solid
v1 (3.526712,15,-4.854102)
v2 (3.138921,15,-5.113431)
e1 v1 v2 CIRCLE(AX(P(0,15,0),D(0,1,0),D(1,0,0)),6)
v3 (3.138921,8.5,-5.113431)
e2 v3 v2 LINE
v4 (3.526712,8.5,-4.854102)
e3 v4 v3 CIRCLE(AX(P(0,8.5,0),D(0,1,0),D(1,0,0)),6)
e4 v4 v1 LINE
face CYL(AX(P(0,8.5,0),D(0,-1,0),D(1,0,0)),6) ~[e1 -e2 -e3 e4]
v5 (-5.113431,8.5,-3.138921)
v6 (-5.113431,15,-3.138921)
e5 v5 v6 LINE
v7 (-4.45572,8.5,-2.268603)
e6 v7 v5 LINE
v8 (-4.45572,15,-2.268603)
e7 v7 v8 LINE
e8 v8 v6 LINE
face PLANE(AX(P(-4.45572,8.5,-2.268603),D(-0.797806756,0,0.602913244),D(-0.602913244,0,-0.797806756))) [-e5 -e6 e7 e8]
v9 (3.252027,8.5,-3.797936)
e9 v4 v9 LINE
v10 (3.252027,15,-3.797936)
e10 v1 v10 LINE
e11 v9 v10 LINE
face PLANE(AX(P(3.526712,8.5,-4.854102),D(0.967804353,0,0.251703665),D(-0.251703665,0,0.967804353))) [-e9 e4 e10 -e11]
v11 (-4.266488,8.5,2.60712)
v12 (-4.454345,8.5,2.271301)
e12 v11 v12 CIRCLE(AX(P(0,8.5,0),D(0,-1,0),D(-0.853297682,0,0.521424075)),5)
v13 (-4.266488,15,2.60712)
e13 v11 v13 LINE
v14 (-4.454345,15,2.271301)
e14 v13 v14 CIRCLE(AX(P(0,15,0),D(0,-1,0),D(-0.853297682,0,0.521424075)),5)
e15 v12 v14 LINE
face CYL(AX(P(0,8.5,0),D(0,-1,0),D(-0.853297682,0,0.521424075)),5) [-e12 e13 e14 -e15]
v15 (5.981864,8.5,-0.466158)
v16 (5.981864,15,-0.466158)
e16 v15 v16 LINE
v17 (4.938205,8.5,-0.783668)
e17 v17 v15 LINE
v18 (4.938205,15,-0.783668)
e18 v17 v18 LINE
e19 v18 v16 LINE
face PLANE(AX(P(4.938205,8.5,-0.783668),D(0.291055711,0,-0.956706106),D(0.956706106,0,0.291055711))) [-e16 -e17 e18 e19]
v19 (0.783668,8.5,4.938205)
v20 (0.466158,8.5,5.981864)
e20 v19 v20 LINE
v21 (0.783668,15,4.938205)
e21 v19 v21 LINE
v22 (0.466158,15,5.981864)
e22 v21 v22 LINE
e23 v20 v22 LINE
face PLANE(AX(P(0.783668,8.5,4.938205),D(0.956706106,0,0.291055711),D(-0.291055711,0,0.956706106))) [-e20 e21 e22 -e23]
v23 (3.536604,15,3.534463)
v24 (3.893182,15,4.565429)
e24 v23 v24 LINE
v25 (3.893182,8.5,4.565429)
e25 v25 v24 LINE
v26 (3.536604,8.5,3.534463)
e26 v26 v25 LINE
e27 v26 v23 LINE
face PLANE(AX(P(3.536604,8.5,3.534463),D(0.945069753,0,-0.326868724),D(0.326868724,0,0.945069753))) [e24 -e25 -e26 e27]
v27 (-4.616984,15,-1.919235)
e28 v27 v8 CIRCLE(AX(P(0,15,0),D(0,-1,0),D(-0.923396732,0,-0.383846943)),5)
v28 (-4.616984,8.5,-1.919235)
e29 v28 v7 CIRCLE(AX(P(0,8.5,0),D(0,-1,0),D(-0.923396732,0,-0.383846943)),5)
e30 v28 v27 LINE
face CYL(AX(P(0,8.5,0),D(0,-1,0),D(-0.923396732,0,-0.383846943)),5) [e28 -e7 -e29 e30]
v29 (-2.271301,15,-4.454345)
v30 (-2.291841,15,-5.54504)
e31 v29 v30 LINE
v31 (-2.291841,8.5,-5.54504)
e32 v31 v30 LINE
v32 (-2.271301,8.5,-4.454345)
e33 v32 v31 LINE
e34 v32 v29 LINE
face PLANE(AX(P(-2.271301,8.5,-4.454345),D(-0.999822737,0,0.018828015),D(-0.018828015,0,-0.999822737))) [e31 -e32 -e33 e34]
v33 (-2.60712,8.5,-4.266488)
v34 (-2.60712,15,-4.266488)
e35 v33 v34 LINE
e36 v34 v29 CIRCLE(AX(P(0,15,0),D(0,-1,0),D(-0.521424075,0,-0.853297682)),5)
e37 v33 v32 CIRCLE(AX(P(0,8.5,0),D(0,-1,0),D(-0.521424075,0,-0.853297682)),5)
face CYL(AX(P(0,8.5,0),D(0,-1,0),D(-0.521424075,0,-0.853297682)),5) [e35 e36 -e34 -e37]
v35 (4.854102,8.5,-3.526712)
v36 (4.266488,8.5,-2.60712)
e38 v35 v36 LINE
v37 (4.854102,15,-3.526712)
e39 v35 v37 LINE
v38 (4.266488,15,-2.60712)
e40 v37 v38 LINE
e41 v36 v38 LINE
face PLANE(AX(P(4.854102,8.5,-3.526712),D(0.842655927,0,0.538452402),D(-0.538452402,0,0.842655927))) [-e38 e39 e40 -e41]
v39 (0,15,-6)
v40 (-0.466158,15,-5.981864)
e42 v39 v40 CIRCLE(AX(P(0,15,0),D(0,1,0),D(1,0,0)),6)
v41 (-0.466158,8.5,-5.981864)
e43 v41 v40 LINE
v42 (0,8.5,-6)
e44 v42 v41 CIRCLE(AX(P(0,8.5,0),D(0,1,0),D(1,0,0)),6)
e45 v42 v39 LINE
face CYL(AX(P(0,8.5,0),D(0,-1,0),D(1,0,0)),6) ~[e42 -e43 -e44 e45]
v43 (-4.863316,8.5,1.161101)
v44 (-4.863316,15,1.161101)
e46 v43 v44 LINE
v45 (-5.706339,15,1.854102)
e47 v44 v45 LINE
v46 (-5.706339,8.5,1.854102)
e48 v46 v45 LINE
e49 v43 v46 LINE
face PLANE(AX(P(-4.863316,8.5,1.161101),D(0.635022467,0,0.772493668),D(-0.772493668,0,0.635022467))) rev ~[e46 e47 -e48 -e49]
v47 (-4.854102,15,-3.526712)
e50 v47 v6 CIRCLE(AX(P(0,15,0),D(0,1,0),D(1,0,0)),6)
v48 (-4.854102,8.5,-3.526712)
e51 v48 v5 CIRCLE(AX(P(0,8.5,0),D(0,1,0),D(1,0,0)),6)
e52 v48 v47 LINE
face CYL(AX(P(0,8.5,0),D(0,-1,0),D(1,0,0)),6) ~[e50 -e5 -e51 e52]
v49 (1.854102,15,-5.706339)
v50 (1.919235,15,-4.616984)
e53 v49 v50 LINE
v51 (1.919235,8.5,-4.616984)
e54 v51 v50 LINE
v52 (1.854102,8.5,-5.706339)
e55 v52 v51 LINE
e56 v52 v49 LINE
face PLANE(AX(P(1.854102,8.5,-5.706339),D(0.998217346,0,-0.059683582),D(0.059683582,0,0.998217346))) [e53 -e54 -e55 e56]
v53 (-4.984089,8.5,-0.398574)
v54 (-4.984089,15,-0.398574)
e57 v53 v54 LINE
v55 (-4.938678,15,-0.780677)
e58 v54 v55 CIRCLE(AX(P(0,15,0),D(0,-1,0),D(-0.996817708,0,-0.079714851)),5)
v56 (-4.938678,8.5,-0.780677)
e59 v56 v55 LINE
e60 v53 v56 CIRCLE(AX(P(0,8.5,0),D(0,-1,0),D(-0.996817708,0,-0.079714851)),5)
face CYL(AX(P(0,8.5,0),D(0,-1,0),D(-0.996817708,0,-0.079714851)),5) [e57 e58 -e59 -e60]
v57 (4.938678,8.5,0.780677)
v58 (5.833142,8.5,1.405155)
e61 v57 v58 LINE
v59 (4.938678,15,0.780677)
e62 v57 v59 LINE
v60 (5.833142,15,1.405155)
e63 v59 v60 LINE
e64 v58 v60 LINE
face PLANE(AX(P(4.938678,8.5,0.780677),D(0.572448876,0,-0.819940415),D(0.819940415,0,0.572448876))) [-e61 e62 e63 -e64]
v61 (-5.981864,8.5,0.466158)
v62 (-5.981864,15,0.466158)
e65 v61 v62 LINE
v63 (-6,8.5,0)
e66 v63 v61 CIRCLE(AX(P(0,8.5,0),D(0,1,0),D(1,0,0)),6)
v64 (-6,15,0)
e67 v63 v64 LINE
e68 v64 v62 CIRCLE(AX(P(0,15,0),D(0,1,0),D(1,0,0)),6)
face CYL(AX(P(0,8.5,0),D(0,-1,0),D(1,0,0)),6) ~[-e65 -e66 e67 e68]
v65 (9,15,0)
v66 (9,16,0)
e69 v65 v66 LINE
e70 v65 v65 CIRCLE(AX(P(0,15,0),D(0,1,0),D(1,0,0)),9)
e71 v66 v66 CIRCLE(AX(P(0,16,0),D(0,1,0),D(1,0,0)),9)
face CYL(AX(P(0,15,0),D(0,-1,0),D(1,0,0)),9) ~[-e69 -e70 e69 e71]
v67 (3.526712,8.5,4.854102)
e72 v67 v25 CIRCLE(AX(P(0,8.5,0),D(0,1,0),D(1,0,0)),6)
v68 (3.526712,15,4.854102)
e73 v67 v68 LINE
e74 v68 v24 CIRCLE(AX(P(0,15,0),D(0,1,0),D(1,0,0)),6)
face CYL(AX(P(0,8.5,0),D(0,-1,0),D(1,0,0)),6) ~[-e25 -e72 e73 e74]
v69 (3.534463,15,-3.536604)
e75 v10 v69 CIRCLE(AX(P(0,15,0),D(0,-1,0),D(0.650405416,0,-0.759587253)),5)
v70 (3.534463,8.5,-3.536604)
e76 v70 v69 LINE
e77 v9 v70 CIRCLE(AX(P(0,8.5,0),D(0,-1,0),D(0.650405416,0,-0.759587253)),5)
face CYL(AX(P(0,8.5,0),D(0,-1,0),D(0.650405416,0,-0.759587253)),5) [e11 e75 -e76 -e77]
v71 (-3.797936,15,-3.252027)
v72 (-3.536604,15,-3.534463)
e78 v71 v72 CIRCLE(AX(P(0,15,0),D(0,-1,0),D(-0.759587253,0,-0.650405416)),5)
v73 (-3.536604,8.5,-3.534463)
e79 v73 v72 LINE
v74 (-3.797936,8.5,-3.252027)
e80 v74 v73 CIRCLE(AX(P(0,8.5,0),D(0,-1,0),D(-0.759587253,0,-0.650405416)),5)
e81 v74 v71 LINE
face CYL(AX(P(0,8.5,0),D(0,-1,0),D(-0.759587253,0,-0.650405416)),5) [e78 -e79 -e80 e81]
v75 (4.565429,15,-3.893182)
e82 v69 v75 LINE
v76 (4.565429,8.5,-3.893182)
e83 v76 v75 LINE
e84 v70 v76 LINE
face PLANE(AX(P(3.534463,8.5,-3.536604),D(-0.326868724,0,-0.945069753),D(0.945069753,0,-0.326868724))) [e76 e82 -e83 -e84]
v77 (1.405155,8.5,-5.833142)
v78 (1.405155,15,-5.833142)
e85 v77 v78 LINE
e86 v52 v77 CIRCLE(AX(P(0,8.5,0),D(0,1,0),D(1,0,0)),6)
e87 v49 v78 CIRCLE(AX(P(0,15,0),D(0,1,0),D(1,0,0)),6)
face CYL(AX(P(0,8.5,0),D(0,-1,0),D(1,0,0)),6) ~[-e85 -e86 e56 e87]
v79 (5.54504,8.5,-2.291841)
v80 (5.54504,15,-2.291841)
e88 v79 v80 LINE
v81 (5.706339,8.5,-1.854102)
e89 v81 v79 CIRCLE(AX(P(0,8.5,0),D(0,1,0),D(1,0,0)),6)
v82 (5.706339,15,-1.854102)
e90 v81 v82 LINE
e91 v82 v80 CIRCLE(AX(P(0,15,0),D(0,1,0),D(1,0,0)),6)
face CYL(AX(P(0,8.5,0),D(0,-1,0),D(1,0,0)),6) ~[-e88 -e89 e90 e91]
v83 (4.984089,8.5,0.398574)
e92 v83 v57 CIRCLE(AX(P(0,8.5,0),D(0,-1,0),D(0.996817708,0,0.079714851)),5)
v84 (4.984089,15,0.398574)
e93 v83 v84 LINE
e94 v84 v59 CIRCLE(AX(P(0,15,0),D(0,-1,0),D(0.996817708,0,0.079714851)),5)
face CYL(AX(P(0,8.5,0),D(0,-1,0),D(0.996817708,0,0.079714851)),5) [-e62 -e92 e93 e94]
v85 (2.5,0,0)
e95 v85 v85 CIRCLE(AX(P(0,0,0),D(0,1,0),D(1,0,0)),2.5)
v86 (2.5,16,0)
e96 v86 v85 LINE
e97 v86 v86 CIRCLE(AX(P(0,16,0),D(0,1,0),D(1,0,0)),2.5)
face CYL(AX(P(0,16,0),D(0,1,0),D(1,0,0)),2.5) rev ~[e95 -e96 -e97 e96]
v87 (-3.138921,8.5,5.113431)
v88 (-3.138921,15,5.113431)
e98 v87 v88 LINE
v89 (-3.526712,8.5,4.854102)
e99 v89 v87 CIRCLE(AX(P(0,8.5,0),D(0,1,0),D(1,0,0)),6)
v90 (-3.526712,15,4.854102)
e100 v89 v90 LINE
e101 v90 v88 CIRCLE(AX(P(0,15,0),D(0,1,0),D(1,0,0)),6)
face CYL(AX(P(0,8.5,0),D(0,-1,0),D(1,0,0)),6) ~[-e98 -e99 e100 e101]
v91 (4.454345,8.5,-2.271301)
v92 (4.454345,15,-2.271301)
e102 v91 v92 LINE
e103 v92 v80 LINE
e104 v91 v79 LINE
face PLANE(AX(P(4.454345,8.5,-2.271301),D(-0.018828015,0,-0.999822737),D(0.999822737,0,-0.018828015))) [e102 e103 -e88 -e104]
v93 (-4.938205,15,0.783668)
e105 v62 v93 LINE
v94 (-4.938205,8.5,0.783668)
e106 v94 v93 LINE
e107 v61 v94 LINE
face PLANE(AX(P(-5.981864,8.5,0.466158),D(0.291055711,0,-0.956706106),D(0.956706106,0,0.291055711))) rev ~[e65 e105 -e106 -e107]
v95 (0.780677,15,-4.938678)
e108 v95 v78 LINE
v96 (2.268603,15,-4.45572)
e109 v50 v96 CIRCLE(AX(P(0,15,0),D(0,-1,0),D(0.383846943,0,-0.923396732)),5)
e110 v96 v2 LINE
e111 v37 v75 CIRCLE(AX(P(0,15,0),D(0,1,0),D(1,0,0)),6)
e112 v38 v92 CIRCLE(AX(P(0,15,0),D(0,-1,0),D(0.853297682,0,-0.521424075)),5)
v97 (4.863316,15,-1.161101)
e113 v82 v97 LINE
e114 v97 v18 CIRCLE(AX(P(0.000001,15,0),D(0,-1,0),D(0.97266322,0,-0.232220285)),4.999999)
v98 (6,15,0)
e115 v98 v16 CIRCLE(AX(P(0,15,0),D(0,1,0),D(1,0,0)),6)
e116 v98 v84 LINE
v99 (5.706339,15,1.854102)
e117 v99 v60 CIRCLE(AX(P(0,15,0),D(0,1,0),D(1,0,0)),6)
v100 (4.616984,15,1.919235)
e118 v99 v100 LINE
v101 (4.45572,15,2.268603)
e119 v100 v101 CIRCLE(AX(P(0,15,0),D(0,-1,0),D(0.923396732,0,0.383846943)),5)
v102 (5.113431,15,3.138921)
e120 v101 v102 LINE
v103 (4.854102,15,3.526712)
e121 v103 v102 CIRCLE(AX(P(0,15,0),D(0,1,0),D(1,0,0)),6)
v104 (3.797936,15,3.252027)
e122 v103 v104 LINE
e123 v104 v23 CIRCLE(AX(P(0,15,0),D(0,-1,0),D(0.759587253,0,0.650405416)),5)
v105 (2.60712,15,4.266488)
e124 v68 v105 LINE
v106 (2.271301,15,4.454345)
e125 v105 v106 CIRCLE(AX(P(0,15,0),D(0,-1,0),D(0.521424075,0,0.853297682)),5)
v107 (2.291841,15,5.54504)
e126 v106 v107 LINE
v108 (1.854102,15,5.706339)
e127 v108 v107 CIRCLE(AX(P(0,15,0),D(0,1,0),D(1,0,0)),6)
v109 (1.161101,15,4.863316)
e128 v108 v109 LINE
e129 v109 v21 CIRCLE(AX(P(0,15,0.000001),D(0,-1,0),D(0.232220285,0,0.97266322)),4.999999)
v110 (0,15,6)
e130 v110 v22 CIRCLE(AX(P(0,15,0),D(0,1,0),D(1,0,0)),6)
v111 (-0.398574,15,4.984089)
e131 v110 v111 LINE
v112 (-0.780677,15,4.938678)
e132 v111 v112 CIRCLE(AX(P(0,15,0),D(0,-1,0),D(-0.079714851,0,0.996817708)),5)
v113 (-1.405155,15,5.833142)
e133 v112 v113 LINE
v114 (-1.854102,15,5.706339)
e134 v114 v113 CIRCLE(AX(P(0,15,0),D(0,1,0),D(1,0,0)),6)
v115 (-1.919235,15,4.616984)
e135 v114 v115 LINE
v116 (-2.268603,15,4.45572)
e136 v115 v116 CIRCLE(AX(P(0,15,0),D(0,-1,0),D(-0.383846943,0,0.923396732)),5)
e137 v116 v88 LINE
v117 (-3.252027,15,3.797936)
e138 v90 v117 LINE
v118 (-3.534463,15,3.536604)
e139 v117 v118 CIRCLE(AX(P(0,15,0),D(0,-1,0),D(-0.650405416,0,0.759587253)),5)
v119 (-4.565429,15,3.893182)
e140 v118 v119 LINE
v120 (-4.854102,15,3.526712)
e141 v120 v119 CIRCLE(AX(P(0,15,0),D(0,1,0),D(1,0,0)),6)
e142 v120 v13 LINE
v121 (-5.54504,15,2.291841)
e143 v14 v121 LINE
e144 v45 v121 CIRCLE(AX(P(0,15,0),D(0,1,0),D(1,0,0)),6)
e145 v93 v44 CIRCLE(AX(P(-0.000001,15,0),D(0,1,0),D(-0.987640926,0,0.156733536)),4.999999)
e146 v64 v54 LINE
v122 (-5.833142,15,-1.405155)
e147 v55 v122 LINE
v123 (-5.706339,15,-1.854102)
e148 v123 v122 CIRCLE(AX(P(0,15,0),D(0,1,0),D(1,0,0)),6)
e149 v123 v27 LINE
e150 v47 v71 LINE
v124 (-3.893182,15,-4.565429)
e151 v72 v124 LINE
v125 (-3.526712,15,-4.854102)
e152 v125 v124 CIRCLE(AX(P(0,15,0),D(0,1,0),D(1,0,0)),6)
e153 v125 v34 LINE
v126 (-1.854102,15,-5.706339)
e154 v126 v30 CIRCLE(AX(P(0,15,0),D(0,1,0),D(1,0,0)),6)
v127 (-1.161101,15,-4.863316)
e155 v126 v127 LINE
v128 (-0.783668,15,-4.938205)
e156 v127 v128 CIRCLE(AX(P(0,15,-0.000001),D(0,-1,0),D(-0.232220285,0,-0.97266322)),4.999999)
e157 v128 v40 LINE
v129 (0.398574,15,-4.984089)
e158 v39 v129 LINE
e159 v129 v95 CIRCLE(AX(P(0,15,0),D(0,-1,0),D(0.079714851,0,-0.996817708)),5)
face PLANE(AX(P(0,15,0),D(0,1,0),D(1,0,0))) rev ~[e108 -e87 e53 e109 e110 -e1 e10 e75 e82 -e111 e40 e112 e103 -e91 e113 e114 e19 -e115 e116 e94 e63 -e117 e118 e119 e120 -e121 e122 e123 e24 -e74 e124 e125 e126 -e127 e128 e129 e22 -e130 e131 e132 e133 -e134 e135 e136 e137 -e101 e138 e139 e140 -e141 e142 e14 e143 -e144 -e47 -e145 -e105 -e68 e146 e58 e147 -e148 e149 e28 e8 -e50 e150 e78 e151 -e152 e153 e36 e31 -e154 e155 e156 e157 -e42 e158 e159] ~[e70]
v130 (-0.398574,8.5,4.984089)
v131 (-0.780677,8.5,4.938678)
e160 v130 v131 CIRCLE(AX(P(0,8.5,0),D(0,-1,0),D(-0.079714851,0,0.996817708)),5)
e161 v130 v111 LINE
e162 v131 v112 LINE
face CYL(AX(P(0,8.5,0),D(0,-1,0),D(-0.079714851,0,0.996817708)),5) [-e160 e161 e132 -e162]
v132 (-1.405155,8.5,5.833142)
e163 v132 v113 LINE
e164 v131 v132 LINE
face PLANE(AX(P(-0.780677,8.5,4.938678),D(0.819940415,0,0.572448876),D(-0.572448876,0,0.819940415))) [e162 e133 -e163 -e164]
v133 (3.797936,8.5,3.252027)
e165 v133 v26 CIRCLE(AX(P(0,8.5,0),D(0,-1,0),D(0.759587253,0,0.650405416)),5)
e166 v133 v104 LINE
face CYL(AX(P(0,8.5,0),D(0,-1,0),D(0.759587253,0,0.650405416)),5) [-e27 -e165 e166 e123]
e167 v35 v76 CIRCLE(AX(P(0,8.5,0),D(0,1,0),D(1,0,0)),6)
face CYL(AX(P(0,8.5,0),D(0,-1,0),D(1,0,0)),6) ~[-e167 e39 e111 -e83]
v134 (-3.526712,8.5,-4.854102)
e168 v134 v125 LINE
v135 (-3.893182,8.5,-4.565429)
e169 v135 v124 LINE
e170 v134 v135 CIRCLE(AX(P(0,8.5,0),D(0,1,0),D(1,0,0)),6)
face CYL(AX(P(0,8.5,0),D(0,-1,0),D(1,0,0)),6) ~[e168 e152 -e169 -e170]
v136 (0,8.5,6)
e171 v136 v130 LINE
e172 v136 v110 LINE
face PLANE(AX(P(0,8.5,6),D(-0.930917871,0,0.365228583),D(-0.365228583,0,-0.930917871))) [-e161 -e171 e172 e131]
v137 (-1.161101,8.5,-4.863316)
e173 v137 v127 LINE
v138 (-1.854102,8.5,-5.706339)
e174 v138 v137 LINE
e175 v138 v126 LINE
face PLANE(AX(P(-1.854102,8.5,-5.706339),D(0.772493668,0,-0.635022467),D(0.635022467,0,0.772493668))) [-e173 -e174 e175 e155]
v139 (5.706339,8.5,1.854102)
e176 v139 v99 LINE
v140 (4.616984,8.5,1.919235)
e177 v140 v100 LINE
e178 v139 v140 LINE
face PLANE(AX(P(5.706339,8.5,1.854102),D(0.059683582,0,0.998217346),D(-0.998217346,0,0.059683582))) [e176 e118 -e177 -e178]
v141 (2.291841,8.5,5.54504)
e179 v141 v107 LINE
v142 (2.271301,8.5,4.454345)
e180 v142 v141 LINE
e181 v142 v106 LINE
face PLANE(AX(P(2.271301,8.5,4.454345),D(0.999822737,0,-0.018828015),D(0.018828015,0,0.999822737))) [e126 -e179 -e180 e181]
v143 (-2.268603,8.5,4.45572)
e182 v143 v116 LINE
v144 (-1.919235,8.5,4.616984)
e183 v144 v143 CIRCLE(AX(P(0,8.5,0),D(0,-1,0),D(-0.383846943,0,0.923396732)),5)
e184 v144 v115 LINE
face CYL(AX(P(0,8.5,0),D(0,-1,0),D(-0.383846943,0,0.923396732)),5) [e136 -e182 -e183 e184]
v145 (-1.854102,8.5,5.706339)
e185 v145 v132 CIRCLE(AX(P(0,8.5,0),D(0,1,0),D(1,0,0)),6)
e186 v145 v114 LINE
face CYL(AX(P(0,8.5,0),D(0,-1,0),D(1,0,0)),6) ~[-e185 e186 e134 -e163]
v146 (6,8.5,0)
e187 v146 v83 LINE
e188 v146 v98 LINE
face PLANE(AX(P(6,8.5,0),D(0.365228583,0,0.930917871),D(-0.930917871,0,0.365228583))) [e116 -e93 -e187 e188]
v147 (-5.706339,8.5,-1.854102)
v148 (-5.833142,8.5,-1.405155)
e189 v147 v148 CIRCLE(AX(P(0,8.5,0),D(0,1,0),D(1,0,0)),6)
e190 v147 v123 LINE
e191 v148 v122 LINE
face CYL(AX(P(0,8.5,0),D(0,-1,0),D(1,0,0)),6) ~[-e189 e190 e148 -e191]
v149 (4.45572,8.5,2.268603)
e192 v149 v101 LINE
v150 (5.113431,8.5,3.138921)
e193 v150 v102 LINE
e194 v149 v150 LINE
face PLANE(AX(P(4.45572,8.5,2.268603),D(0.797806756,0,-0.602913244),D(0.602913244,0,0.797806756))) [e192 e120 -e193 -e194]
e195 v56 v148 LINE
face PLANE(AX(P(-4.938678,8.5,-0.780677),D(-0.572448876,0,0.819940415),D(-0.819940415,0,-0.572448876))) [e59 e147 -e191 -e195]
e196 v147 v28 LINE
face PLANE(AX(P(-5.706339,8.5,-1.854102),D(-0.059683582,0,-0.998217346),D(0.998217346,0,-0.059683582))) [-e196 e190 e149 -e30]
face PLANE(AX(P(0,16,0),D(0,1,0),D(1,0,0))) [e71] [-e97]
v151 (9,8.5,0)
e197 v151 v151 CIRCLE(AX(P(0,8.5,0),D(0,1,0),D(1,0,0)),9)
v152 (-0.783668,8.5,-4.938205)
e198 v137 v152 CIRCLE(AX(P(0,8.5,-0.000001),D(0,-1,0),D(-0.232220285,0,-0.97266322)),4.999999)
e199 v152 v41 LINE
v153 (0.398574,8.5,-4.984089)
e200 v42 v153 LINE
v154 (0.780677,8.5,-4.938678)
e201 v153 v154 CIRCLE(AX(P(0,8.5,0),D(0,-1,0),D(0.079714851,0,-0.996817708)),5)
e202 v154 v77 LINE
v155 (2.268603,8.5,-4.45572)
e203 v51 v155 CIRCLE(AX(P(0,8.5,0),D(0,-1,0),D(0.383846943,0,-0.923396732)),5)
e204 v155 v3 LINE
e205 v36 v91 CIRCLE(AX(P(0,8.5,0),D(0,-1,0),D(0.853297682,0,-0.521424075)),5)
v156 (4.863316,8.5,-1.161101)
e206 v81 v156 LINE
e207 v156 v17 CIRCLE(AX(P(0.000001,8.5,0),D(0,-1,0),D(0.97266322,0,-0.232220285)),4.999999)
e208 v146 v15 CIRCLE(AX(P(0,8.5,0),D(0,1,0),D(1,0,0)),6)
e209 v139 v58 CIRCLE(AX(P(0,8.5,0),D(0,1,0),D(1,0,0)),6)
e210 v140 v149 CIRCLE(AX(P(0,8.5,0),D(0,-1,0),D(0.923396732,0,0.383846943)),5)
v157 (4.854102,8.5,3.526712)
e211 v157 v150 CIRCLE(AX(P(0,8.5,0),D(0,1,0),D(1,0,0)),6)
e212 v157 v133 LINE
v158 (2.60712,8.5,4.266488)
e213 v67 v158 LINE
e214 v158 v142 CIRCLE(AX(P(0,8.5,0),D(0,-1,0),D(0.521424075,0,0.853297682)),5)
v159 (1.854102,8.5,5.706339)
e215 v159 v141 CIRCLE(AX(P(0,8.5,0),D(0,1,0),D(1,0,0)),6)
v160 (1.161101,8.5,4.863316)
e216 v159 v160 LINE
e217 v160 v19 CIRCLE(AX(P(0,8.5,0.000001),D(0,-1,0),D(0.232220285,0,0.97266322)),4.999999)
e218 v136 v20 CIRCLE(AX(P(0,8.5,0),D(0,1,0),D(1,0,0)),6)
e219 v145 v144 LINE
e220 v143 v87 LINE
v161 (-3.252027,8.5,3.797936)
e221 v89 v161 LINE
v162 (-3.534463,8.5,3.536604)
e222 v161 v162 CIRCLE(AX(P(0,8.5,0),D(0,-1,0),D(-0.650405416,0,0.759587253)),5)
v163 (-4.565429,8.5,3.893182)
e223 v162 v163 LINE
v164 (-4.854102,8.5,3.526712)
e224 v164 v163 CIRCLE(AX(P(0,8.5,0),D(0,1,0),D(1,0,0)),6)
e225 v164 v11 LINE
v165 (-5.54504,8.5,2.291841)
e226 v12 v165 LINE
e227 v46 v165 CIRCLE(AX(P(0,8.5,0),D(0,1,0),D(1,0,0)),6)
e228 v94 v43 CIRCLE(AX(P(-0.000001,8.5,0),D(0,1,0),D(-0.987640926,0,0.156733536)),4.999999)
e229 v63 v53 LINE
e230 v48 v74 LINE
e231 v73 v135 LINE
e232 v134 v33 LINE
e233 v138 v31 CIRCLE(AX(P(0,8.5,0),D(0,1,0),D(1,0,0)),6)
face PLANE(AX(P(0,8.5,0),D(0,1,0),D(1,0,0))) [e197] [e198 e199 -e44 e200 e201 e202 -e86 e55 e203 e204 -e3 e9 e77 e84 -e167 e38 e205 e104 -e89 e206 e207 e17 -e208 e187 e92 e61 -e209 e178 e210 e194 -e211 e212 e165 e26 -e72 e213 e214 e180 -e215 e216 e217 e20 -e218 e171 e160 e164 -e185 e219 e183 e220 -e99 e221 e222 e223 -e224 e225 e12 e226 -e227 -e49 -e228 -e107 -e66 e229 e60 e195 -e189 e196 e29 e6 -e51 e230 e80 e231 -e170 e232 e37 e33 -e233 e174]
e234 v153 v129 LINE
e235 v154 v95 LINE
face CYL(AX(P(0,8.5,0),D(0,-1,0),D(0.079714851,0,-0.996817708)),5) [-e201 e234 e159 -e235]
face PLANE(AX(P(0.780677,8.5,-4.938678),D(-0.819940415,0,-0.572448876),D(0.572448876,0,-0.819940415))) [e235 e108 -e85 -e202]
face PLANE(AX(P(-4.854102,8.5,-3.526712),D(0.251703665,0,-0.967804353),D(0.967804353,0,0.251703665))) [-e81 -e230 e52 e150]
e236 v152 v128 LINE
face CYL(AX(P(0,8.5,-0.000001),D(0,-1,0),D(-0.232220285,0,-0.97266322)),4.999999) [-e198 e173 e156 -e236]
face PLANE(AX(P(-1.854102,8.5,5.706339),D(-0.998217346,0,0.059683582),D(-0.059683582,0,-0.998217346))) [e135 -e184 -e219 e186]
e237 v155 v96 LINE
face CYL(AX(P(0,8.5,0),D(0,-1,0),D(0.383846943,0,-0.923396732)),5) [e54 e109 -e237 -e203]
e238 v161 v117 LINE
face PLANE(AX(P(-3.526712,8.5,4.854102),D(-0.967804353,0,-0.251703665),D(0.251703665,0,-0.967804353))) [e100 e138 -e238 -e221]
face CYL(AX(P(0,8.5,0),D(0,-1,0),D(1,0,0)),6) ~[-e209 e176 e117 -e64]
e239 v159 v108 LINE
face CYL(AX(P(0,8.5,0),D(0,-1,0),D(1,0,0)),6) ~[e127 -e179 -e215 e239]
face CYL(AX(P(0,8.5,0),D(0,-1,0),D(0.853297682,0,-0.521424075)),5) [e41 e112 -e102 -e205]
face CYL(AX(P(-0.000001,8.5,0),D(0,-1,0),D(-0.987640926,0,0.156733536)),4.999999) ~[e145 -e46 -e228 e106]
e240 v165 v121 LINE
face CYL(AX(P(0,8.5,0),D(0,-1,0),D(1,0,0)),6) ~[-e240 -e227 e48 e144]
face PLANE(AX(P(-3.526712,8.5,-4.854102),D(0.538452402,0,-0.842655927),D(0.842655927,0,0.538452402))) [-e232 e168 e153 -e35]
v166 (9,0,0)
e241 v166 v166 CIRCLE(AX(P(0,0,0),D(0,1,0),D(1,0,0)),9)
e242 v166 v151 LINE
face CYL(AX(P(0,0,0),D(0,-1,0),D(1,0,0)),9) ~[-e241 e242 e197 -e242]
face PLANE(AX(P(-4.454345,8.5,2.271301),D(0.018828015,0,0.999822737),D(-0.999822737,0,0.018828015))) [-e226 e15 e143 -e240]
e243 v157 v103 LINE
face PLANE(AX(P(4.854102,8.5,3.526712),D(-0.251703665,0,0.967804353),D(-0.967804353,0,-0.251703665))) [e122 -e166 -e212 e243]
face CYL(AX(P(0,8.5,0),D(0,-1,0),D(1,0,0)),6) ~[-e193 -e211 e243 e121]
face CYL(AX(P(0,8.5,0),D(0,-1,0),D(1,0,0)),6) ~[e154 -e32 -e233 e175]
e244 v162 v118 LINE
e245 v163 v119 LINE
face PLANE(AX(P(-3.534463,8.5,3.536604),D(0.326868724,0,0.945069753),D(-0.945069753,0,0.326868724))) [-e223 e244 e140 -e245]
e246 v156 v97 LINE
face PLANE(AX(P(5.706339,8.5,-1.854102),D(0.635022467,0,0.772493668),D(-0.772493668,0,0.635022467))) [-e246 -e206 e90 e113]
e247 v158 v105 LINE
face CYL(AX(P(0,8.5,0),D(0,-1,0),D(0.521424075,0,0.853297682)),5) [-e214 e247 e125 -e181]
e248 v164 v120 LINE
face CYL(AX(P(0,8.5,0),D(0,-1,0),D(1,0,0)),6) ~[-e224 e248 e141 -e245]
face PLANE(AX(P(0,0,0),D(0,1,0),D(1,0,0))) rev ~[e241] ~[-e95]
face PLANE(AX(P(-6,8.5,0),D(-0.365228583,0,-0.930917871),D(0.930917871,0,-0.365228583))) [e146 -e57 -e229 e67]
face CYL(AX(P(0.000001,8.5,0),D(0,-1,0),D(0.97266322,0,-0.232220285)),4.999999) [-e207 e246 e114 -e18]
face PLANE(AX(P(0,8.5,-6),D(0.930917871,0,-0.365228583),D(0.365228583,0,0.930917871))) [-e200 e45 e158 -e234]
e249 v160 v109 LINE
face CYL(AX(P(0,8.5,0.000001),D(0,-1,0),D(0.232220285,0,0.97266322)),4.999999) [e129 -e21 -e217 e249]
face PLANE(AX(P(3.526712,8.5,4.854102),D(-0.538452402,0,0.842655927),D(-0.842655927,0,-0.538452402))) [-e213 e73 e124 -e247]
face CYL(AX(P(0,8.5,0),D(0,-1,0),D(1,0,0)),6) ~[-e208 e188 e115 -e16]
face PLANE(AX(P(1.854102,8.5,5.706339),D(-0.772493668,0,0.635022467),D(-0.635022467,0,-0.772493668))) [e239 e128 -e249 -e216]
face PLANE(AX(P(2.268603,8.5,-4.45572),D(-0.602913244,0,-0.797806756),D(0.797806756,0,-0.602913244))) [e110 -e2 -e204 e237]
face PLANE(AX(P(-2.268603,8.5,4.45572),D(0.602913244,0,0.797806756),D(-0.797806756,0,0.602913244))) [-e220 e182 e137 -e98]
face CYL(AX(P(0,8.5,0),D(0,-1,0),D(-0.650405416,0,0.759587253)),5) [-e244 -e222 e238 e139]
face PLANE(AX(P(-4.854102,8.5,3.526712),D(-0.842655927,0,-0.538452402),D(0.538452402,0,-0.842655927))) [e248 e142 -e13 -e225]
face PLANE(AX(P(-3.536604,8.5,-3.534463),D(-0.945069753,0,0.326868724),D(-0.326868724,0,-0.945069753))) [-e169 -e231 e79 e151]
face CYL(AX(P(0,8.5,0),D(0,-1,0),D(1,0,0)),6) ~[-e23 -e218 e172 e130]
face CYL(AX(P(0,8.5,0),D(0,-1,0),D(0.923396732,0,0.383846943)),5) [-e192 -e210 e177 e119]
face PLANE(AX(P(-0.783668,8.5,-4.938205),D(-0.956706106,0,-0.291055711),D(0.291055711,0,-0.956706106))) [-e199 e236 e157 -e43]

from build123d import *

# Parameters (mm, degrees)
SKETCH_1_R          = 9
EXTRUDE_1_DEPTH     = 8.5
SKETCH_2_R          = 6
EXTRUDE_2_DEPTH     = 6.5
SKETCH_3_R          = 9
EXTRUDE_3_DEPTH     = 1
SKETCH_4_R          = 2.5
CUT_EXTRUDE_1_DEPTH = 17
CUT_EXTRUDE_2_DEPTH = 6.5


with BuildPart() as part:
    # 草图1 → 凸台-拉伸1 (new body)
    with BuildSketch(Plane(origin=(0, 0, 0), x_dir=(1, 0, 0), z_dir=(0, 1, 0))):
        Circle(SKETCH_1_R)
    extrude(amount=EXTRUDE_1_DEPTH)

    # 草图2 → 凸台-拉伸2 (add)
    with BuildSketch(Plane(origin=(0, 8.5, 0), x_dir=(1, 0, 0), z_dir=(0, 1, 0))):
        Circle(SKETCH_2_R)
    extrude(amount=EXTRUDE_2_DEPTH)

    # 草图3 → 凸台-拉伸3 (add)
    with BuildSketch(Plane(origin=(0, 15, 0), x_dir=(1, 0, 0), z_dir=(0, 1, 0))):
        Circle(SKETCH_3_R)
    extrude(amount=EXTRUDE_3_DEPTH)

    # 草图4 → 切除-拉伸1 (cut, through all)
    with BuildSketch(Plane(origin=(0, 16, 0), x_dir=(1, 0, 0), z_dir=(0, 1, 0))):
        Circle(SKETCH_4_R)
    extrude(amount=-CUT_EXTRUDE_1_DEPTH, mode=Mode.SUBTRACT)

    # 草图5 → 切除-拉伸2 (cut)
    with BuildSketch(Plane(origin=(0, 8.5, 0), x_dir=(1, 0, 0), z_dir=(0, 1, 0))):
        with BuildLine():
            Line((-6, 0), (-4.984088538, 0.398574263))
            ThreePointArc((-4.984088538, 0.398574263), (-4.96506054, 0.590062568), (-4.938678327, 0.780676876))
            Line((-4.938678327, 0.780676876), (-5.83314158, 1.40515455))
            ThreePointArc((-5.83314158, 1.40515455), (-5.958139369, 0.707513435), (-6, 0))
        make_face()
        with BuildLine():
            Line((-5.981863946, -0.466158487), (-4.938204626, -0.783667703))
            ThreePointArc((-4.938204626, -0.783667703), (-4.904392542, -0.973105234), (-4.863316103, -1.161101409))
            Line((-4.863316103, -1.161101409), (-5.706339098, -1.854101966))
            ThreePointArc((-5.706339098, -1.854101966), (-5.885160947, -1.168281057), (-5.981863946, -0.466158487))
        make_face()
        with BuildLine():
            Line((-5.706339098, 1.854101966), (-4.616983661, 1.91923471))
            ThreePointArc((-4.616983661, 1.91923471), (-4.539713819, 2.095470935), (-4.455719783, 2.268603363))
            Line((-4.455719783, 2.268603363), (-5.113430674, 3.13892127))
            ThreePointArc((-5.113430674, 3.13892127), (-5.447893597, 2.514051583), (-5.706339098, 1.854101966))
        make_face()
        with BuildLine():
            Line((-4.854101966, 3.526711514), (-3.797936255, 3.252027091))
            ThreePointArc((-3.797936255, 3.252027091), (-3.669988279, 3.395760008), (-3.536604341, 3.534463146))
            Line((-3.536604341, 3.534463146), (-3.893181547, 4.565428506))
            ThreePointArc((-3.893181547, 4.565428506), (-4.404370041, 4.074496845), (-4.854101966, 3.526711514))
        make_face()
        with BuildLine():
            Line((-3.526711514, 4.854101966), (-2.607120386, 4.266488403))
            ThreePointArc((-2.607120386, 4.266488403), (-2.441018717, 4.36364843), (-2.271301426, 4.454345051))
            Line((-2.271301426, 4.454345051), (-2.291840684, 5.545039791))
            ThreePointArc((-2.291840684, 5.545039791), (-2.929716059, 5.236101967), (-3.526711514, 4.854101966))
        make_face()
        with BuildLine():
            Line((-1.854101966, 5.706339098), (-1.161101409, 4.863316103))
            ThreePointArc((-1.161101409, 4.863316103), (-0.973105234, 4.904392542), (-0.783667703, 4.938204626))
            Line((-0.783667703, 4.938204626), (-0.466158487, 5.981863946))
            ThreePointArc((-0.466158487, 5.981863946), (-1.168281057, 5.885160947), (-1.854101966, 5.706339098))
        make_face()
        with BuildLine():
            Line((0, 6), (0.398574263, 4.984088538))
            ThreePointArc((0.398574263, 4.984088538), (0.590062568, 4.96506054), (0.780676876, 4.938678327))
            Line((0.780676876, 4.938678327), (1.40515455, 5.83314158))
            ThreePointArc((1.40515455, 5.83314158), (0.707513435, 5.958139369), (0, 6))
        make_face()
        with BuildLine():
            Line((1.854101966, 5.706339098), (1.91923471, 4.616983661))
            ThreePointArc((1.91923471, 4.616983661), (2.095470935, 4.539713819), (2.268603363, 4.455719783))
            Line((2.268603363, 4.455719783), (3.13892127, 5.113430674))
            ThreePointArc((3.13892127, 5.113430674), (2.514051583, 5.447893597), (1.854101966, 5.706339098))
        make_face()
        with BuildLine():
            Line((3.526711514, 4.854101966), (3.252027091, 3.797936255))
            ThreePointArc((3.252027091, 3.797936255), (3.395760008, 3.669988279), (3.534463146, 3.536604341))
            Line((3.534463146, 3.536604341), (4.565428506, 3.893181547))
            ThreePointArc((4.565428506, 3.893181547), (4.074496845, 4.404370041), (3.526711514, 4.854101966))
        make_face()
        with BuildLine():
            Line((4.854101966, 3.526711514), (4.266488403, 2.607120386))
            ThreePointArc((4.266488403, 2.607120386), (4.36364843, 2.441018717), (4.454345051, 2.271301426))
            Line((4.454345051, 2.271301426), (5.545039791, 2.291840684))
            ThreePointArc((5.545039791, 2.291840684), (5.236101967, 2.929716059), (4.854101966, 3.526711514))
        make_face()
        with BuildLine():
            Line((5.706339098, 1.854101966), (4.863316103, 1.161101409))
            ThreePointArc((4.863316103, 1.161101409), (4.904392542, 0.973105234), (4.938204626, 0.783667703))
            Line((4.938204626, 0.783667703), (5.981863946, 0.466158487))
            ThreePointArc((5.981863946, 0.466158487), (5.885160947, 1.168281057), (5.706339098, 1.854101966))
        make_face()
        with BuildLine():
            Line((6, 0), (4.984088538, -0.398574263))
            ThreePointArc((4.984088538, -0.398574263), (4.96506054, -0.590062568), (4.938678327, -0.780676876))
            Line((4.938678327, -0.780676876), (5.83314158, -1.40515455))
            ThreePointArc((5.83314158, -1.40515455), (5.958139369, -0.707513435), (6, 0))
        make_face()
        with BuildLine():
            Line((5.706339098, -1.854101966), (4.616983661, -1.91923471))
            ThreePointArc((4.616983661, -1.91923471), (4.539713819, -2.095470935), (4.455719783, -2.268603363))
            Line((4.455719783, -2.268603363), (5.113430674, -3.13892127))
            ThreePointArc((5.113430674, -3.13892127), (5.447893597, -2.514051583), (5.706339098, -1.854101966))
        make_face()
        with BuildLine():
            Line((4.854101966, -3.526711514), (3.797936255, -3.252027091))
            ThreePointArc((3.797936255, -3.252027091), (3.669988279, -3.395760008), (3.536604341, -3.534463146))
            Line((3.536604341, -3.534463146), (3.893181547, -4.565428506))
            ThreePointArc((3.893181547, -4.565428506), (4.404370041, -4.074496845), (4.854101966, -3.526711514))
        make_face()
        with BuildLine():
            Line((3.526711514, -4.854101966), (2.607120386, -4.266488403))
            ThreePointArc((2.607120386, -4.266488403), (2.441018717, -4.36364843), (2.271301426, -4.454345051))
            Line((2.271301426, -4.454345051), (2.291840684, -5.545039791))
            ThreePointArc((2.291840684, -5.545039791), (2.929716059, -5.236101967), (3.526711514, -4.854101966))
        make_face()
        with BuildLine():
            Line((1.854101966, -5.706339098), (1.161101409, -4.863316103))
            ThreePointArc((1.161101409, -4.863316103), (0.973105234, -4.904392542), (0.783667703, -4.938204626))
            Line((0.783667703, -4.938204626), (0.466158487, -5.981863946))
            ThreePointArc((0.466158487, -5.981863946), (1.168281057, -5.885160947), (1.854101966, -5.706339098))
        make_face()
        with BuildLine():
            Line((0, -6), (-0.398574263, -4.984088538))
            ThreePointArc((-0.398574263, -4.984088538), (-0.590062568, -4.96506054), (-0.780676876, -4.938678327))
            Line((-0.780676876, -4.938678327), (-1.40515455, -5.83314158))
            ThreePointArc((-1.40515455, -5.83314158), (-0.707513435, -5.958139369), (0, -6))
        make_face()
        with BuildLine():
            Line((-1.854101966, -5.706339098), (-1.91923471, -4.616983661))
            ThreePointArc((-1.91923471, -4.616983661), (-2.095470935, -4.539713819), (-2.268603363, -4.455719783))
            Line((-2.268603363, -4.455719783), (-3.13892127, -5.113430674))
            ThreePointArc((-3.13892127, -5.113430674), (-2.514051583, -5.447893597), (-1.854101966, -5.706339098))
        make_face()
        with BuildLine():
            Line((-3.526711514, -4.854101966), (-3.252027091, -3.797936255))
            ThreePointArc((-3.252027091, -3.797936255), (-3.395760008, -3.669988279), (-3.534463146, -3.536604341))
            Line((-3.534463146, -3.536604341), (-4.565428506, -3.893181547))
            ThreePointArc((-4.565428506, -3.893181547), (-4.074496845, -4.404370041), (-3.526711514, -4.854101966))
        make_face()
        with BuildLine():
            Line((-4.854101966, -3.526711514), (-4.266488403, -2.607120386))
            ThreePointArc((-4.266488403, -2.607120386), (-4.36364843, -2.441018717), (-4.454345051, -2.271301426))
            Line((-4.454345051, -2.271301426), (-5.545039791, -2.291840684))
            ThreePointArc((-5.545039791, -2.291840684), (-5.236101967, -2.929716059), (-4.854101966, -3.526711514))
        make_face()
    extrude(amount=CUT_EXTRUDE_2_DEPTH, mode=Mode.SUBTRACT)


solid = part.part
